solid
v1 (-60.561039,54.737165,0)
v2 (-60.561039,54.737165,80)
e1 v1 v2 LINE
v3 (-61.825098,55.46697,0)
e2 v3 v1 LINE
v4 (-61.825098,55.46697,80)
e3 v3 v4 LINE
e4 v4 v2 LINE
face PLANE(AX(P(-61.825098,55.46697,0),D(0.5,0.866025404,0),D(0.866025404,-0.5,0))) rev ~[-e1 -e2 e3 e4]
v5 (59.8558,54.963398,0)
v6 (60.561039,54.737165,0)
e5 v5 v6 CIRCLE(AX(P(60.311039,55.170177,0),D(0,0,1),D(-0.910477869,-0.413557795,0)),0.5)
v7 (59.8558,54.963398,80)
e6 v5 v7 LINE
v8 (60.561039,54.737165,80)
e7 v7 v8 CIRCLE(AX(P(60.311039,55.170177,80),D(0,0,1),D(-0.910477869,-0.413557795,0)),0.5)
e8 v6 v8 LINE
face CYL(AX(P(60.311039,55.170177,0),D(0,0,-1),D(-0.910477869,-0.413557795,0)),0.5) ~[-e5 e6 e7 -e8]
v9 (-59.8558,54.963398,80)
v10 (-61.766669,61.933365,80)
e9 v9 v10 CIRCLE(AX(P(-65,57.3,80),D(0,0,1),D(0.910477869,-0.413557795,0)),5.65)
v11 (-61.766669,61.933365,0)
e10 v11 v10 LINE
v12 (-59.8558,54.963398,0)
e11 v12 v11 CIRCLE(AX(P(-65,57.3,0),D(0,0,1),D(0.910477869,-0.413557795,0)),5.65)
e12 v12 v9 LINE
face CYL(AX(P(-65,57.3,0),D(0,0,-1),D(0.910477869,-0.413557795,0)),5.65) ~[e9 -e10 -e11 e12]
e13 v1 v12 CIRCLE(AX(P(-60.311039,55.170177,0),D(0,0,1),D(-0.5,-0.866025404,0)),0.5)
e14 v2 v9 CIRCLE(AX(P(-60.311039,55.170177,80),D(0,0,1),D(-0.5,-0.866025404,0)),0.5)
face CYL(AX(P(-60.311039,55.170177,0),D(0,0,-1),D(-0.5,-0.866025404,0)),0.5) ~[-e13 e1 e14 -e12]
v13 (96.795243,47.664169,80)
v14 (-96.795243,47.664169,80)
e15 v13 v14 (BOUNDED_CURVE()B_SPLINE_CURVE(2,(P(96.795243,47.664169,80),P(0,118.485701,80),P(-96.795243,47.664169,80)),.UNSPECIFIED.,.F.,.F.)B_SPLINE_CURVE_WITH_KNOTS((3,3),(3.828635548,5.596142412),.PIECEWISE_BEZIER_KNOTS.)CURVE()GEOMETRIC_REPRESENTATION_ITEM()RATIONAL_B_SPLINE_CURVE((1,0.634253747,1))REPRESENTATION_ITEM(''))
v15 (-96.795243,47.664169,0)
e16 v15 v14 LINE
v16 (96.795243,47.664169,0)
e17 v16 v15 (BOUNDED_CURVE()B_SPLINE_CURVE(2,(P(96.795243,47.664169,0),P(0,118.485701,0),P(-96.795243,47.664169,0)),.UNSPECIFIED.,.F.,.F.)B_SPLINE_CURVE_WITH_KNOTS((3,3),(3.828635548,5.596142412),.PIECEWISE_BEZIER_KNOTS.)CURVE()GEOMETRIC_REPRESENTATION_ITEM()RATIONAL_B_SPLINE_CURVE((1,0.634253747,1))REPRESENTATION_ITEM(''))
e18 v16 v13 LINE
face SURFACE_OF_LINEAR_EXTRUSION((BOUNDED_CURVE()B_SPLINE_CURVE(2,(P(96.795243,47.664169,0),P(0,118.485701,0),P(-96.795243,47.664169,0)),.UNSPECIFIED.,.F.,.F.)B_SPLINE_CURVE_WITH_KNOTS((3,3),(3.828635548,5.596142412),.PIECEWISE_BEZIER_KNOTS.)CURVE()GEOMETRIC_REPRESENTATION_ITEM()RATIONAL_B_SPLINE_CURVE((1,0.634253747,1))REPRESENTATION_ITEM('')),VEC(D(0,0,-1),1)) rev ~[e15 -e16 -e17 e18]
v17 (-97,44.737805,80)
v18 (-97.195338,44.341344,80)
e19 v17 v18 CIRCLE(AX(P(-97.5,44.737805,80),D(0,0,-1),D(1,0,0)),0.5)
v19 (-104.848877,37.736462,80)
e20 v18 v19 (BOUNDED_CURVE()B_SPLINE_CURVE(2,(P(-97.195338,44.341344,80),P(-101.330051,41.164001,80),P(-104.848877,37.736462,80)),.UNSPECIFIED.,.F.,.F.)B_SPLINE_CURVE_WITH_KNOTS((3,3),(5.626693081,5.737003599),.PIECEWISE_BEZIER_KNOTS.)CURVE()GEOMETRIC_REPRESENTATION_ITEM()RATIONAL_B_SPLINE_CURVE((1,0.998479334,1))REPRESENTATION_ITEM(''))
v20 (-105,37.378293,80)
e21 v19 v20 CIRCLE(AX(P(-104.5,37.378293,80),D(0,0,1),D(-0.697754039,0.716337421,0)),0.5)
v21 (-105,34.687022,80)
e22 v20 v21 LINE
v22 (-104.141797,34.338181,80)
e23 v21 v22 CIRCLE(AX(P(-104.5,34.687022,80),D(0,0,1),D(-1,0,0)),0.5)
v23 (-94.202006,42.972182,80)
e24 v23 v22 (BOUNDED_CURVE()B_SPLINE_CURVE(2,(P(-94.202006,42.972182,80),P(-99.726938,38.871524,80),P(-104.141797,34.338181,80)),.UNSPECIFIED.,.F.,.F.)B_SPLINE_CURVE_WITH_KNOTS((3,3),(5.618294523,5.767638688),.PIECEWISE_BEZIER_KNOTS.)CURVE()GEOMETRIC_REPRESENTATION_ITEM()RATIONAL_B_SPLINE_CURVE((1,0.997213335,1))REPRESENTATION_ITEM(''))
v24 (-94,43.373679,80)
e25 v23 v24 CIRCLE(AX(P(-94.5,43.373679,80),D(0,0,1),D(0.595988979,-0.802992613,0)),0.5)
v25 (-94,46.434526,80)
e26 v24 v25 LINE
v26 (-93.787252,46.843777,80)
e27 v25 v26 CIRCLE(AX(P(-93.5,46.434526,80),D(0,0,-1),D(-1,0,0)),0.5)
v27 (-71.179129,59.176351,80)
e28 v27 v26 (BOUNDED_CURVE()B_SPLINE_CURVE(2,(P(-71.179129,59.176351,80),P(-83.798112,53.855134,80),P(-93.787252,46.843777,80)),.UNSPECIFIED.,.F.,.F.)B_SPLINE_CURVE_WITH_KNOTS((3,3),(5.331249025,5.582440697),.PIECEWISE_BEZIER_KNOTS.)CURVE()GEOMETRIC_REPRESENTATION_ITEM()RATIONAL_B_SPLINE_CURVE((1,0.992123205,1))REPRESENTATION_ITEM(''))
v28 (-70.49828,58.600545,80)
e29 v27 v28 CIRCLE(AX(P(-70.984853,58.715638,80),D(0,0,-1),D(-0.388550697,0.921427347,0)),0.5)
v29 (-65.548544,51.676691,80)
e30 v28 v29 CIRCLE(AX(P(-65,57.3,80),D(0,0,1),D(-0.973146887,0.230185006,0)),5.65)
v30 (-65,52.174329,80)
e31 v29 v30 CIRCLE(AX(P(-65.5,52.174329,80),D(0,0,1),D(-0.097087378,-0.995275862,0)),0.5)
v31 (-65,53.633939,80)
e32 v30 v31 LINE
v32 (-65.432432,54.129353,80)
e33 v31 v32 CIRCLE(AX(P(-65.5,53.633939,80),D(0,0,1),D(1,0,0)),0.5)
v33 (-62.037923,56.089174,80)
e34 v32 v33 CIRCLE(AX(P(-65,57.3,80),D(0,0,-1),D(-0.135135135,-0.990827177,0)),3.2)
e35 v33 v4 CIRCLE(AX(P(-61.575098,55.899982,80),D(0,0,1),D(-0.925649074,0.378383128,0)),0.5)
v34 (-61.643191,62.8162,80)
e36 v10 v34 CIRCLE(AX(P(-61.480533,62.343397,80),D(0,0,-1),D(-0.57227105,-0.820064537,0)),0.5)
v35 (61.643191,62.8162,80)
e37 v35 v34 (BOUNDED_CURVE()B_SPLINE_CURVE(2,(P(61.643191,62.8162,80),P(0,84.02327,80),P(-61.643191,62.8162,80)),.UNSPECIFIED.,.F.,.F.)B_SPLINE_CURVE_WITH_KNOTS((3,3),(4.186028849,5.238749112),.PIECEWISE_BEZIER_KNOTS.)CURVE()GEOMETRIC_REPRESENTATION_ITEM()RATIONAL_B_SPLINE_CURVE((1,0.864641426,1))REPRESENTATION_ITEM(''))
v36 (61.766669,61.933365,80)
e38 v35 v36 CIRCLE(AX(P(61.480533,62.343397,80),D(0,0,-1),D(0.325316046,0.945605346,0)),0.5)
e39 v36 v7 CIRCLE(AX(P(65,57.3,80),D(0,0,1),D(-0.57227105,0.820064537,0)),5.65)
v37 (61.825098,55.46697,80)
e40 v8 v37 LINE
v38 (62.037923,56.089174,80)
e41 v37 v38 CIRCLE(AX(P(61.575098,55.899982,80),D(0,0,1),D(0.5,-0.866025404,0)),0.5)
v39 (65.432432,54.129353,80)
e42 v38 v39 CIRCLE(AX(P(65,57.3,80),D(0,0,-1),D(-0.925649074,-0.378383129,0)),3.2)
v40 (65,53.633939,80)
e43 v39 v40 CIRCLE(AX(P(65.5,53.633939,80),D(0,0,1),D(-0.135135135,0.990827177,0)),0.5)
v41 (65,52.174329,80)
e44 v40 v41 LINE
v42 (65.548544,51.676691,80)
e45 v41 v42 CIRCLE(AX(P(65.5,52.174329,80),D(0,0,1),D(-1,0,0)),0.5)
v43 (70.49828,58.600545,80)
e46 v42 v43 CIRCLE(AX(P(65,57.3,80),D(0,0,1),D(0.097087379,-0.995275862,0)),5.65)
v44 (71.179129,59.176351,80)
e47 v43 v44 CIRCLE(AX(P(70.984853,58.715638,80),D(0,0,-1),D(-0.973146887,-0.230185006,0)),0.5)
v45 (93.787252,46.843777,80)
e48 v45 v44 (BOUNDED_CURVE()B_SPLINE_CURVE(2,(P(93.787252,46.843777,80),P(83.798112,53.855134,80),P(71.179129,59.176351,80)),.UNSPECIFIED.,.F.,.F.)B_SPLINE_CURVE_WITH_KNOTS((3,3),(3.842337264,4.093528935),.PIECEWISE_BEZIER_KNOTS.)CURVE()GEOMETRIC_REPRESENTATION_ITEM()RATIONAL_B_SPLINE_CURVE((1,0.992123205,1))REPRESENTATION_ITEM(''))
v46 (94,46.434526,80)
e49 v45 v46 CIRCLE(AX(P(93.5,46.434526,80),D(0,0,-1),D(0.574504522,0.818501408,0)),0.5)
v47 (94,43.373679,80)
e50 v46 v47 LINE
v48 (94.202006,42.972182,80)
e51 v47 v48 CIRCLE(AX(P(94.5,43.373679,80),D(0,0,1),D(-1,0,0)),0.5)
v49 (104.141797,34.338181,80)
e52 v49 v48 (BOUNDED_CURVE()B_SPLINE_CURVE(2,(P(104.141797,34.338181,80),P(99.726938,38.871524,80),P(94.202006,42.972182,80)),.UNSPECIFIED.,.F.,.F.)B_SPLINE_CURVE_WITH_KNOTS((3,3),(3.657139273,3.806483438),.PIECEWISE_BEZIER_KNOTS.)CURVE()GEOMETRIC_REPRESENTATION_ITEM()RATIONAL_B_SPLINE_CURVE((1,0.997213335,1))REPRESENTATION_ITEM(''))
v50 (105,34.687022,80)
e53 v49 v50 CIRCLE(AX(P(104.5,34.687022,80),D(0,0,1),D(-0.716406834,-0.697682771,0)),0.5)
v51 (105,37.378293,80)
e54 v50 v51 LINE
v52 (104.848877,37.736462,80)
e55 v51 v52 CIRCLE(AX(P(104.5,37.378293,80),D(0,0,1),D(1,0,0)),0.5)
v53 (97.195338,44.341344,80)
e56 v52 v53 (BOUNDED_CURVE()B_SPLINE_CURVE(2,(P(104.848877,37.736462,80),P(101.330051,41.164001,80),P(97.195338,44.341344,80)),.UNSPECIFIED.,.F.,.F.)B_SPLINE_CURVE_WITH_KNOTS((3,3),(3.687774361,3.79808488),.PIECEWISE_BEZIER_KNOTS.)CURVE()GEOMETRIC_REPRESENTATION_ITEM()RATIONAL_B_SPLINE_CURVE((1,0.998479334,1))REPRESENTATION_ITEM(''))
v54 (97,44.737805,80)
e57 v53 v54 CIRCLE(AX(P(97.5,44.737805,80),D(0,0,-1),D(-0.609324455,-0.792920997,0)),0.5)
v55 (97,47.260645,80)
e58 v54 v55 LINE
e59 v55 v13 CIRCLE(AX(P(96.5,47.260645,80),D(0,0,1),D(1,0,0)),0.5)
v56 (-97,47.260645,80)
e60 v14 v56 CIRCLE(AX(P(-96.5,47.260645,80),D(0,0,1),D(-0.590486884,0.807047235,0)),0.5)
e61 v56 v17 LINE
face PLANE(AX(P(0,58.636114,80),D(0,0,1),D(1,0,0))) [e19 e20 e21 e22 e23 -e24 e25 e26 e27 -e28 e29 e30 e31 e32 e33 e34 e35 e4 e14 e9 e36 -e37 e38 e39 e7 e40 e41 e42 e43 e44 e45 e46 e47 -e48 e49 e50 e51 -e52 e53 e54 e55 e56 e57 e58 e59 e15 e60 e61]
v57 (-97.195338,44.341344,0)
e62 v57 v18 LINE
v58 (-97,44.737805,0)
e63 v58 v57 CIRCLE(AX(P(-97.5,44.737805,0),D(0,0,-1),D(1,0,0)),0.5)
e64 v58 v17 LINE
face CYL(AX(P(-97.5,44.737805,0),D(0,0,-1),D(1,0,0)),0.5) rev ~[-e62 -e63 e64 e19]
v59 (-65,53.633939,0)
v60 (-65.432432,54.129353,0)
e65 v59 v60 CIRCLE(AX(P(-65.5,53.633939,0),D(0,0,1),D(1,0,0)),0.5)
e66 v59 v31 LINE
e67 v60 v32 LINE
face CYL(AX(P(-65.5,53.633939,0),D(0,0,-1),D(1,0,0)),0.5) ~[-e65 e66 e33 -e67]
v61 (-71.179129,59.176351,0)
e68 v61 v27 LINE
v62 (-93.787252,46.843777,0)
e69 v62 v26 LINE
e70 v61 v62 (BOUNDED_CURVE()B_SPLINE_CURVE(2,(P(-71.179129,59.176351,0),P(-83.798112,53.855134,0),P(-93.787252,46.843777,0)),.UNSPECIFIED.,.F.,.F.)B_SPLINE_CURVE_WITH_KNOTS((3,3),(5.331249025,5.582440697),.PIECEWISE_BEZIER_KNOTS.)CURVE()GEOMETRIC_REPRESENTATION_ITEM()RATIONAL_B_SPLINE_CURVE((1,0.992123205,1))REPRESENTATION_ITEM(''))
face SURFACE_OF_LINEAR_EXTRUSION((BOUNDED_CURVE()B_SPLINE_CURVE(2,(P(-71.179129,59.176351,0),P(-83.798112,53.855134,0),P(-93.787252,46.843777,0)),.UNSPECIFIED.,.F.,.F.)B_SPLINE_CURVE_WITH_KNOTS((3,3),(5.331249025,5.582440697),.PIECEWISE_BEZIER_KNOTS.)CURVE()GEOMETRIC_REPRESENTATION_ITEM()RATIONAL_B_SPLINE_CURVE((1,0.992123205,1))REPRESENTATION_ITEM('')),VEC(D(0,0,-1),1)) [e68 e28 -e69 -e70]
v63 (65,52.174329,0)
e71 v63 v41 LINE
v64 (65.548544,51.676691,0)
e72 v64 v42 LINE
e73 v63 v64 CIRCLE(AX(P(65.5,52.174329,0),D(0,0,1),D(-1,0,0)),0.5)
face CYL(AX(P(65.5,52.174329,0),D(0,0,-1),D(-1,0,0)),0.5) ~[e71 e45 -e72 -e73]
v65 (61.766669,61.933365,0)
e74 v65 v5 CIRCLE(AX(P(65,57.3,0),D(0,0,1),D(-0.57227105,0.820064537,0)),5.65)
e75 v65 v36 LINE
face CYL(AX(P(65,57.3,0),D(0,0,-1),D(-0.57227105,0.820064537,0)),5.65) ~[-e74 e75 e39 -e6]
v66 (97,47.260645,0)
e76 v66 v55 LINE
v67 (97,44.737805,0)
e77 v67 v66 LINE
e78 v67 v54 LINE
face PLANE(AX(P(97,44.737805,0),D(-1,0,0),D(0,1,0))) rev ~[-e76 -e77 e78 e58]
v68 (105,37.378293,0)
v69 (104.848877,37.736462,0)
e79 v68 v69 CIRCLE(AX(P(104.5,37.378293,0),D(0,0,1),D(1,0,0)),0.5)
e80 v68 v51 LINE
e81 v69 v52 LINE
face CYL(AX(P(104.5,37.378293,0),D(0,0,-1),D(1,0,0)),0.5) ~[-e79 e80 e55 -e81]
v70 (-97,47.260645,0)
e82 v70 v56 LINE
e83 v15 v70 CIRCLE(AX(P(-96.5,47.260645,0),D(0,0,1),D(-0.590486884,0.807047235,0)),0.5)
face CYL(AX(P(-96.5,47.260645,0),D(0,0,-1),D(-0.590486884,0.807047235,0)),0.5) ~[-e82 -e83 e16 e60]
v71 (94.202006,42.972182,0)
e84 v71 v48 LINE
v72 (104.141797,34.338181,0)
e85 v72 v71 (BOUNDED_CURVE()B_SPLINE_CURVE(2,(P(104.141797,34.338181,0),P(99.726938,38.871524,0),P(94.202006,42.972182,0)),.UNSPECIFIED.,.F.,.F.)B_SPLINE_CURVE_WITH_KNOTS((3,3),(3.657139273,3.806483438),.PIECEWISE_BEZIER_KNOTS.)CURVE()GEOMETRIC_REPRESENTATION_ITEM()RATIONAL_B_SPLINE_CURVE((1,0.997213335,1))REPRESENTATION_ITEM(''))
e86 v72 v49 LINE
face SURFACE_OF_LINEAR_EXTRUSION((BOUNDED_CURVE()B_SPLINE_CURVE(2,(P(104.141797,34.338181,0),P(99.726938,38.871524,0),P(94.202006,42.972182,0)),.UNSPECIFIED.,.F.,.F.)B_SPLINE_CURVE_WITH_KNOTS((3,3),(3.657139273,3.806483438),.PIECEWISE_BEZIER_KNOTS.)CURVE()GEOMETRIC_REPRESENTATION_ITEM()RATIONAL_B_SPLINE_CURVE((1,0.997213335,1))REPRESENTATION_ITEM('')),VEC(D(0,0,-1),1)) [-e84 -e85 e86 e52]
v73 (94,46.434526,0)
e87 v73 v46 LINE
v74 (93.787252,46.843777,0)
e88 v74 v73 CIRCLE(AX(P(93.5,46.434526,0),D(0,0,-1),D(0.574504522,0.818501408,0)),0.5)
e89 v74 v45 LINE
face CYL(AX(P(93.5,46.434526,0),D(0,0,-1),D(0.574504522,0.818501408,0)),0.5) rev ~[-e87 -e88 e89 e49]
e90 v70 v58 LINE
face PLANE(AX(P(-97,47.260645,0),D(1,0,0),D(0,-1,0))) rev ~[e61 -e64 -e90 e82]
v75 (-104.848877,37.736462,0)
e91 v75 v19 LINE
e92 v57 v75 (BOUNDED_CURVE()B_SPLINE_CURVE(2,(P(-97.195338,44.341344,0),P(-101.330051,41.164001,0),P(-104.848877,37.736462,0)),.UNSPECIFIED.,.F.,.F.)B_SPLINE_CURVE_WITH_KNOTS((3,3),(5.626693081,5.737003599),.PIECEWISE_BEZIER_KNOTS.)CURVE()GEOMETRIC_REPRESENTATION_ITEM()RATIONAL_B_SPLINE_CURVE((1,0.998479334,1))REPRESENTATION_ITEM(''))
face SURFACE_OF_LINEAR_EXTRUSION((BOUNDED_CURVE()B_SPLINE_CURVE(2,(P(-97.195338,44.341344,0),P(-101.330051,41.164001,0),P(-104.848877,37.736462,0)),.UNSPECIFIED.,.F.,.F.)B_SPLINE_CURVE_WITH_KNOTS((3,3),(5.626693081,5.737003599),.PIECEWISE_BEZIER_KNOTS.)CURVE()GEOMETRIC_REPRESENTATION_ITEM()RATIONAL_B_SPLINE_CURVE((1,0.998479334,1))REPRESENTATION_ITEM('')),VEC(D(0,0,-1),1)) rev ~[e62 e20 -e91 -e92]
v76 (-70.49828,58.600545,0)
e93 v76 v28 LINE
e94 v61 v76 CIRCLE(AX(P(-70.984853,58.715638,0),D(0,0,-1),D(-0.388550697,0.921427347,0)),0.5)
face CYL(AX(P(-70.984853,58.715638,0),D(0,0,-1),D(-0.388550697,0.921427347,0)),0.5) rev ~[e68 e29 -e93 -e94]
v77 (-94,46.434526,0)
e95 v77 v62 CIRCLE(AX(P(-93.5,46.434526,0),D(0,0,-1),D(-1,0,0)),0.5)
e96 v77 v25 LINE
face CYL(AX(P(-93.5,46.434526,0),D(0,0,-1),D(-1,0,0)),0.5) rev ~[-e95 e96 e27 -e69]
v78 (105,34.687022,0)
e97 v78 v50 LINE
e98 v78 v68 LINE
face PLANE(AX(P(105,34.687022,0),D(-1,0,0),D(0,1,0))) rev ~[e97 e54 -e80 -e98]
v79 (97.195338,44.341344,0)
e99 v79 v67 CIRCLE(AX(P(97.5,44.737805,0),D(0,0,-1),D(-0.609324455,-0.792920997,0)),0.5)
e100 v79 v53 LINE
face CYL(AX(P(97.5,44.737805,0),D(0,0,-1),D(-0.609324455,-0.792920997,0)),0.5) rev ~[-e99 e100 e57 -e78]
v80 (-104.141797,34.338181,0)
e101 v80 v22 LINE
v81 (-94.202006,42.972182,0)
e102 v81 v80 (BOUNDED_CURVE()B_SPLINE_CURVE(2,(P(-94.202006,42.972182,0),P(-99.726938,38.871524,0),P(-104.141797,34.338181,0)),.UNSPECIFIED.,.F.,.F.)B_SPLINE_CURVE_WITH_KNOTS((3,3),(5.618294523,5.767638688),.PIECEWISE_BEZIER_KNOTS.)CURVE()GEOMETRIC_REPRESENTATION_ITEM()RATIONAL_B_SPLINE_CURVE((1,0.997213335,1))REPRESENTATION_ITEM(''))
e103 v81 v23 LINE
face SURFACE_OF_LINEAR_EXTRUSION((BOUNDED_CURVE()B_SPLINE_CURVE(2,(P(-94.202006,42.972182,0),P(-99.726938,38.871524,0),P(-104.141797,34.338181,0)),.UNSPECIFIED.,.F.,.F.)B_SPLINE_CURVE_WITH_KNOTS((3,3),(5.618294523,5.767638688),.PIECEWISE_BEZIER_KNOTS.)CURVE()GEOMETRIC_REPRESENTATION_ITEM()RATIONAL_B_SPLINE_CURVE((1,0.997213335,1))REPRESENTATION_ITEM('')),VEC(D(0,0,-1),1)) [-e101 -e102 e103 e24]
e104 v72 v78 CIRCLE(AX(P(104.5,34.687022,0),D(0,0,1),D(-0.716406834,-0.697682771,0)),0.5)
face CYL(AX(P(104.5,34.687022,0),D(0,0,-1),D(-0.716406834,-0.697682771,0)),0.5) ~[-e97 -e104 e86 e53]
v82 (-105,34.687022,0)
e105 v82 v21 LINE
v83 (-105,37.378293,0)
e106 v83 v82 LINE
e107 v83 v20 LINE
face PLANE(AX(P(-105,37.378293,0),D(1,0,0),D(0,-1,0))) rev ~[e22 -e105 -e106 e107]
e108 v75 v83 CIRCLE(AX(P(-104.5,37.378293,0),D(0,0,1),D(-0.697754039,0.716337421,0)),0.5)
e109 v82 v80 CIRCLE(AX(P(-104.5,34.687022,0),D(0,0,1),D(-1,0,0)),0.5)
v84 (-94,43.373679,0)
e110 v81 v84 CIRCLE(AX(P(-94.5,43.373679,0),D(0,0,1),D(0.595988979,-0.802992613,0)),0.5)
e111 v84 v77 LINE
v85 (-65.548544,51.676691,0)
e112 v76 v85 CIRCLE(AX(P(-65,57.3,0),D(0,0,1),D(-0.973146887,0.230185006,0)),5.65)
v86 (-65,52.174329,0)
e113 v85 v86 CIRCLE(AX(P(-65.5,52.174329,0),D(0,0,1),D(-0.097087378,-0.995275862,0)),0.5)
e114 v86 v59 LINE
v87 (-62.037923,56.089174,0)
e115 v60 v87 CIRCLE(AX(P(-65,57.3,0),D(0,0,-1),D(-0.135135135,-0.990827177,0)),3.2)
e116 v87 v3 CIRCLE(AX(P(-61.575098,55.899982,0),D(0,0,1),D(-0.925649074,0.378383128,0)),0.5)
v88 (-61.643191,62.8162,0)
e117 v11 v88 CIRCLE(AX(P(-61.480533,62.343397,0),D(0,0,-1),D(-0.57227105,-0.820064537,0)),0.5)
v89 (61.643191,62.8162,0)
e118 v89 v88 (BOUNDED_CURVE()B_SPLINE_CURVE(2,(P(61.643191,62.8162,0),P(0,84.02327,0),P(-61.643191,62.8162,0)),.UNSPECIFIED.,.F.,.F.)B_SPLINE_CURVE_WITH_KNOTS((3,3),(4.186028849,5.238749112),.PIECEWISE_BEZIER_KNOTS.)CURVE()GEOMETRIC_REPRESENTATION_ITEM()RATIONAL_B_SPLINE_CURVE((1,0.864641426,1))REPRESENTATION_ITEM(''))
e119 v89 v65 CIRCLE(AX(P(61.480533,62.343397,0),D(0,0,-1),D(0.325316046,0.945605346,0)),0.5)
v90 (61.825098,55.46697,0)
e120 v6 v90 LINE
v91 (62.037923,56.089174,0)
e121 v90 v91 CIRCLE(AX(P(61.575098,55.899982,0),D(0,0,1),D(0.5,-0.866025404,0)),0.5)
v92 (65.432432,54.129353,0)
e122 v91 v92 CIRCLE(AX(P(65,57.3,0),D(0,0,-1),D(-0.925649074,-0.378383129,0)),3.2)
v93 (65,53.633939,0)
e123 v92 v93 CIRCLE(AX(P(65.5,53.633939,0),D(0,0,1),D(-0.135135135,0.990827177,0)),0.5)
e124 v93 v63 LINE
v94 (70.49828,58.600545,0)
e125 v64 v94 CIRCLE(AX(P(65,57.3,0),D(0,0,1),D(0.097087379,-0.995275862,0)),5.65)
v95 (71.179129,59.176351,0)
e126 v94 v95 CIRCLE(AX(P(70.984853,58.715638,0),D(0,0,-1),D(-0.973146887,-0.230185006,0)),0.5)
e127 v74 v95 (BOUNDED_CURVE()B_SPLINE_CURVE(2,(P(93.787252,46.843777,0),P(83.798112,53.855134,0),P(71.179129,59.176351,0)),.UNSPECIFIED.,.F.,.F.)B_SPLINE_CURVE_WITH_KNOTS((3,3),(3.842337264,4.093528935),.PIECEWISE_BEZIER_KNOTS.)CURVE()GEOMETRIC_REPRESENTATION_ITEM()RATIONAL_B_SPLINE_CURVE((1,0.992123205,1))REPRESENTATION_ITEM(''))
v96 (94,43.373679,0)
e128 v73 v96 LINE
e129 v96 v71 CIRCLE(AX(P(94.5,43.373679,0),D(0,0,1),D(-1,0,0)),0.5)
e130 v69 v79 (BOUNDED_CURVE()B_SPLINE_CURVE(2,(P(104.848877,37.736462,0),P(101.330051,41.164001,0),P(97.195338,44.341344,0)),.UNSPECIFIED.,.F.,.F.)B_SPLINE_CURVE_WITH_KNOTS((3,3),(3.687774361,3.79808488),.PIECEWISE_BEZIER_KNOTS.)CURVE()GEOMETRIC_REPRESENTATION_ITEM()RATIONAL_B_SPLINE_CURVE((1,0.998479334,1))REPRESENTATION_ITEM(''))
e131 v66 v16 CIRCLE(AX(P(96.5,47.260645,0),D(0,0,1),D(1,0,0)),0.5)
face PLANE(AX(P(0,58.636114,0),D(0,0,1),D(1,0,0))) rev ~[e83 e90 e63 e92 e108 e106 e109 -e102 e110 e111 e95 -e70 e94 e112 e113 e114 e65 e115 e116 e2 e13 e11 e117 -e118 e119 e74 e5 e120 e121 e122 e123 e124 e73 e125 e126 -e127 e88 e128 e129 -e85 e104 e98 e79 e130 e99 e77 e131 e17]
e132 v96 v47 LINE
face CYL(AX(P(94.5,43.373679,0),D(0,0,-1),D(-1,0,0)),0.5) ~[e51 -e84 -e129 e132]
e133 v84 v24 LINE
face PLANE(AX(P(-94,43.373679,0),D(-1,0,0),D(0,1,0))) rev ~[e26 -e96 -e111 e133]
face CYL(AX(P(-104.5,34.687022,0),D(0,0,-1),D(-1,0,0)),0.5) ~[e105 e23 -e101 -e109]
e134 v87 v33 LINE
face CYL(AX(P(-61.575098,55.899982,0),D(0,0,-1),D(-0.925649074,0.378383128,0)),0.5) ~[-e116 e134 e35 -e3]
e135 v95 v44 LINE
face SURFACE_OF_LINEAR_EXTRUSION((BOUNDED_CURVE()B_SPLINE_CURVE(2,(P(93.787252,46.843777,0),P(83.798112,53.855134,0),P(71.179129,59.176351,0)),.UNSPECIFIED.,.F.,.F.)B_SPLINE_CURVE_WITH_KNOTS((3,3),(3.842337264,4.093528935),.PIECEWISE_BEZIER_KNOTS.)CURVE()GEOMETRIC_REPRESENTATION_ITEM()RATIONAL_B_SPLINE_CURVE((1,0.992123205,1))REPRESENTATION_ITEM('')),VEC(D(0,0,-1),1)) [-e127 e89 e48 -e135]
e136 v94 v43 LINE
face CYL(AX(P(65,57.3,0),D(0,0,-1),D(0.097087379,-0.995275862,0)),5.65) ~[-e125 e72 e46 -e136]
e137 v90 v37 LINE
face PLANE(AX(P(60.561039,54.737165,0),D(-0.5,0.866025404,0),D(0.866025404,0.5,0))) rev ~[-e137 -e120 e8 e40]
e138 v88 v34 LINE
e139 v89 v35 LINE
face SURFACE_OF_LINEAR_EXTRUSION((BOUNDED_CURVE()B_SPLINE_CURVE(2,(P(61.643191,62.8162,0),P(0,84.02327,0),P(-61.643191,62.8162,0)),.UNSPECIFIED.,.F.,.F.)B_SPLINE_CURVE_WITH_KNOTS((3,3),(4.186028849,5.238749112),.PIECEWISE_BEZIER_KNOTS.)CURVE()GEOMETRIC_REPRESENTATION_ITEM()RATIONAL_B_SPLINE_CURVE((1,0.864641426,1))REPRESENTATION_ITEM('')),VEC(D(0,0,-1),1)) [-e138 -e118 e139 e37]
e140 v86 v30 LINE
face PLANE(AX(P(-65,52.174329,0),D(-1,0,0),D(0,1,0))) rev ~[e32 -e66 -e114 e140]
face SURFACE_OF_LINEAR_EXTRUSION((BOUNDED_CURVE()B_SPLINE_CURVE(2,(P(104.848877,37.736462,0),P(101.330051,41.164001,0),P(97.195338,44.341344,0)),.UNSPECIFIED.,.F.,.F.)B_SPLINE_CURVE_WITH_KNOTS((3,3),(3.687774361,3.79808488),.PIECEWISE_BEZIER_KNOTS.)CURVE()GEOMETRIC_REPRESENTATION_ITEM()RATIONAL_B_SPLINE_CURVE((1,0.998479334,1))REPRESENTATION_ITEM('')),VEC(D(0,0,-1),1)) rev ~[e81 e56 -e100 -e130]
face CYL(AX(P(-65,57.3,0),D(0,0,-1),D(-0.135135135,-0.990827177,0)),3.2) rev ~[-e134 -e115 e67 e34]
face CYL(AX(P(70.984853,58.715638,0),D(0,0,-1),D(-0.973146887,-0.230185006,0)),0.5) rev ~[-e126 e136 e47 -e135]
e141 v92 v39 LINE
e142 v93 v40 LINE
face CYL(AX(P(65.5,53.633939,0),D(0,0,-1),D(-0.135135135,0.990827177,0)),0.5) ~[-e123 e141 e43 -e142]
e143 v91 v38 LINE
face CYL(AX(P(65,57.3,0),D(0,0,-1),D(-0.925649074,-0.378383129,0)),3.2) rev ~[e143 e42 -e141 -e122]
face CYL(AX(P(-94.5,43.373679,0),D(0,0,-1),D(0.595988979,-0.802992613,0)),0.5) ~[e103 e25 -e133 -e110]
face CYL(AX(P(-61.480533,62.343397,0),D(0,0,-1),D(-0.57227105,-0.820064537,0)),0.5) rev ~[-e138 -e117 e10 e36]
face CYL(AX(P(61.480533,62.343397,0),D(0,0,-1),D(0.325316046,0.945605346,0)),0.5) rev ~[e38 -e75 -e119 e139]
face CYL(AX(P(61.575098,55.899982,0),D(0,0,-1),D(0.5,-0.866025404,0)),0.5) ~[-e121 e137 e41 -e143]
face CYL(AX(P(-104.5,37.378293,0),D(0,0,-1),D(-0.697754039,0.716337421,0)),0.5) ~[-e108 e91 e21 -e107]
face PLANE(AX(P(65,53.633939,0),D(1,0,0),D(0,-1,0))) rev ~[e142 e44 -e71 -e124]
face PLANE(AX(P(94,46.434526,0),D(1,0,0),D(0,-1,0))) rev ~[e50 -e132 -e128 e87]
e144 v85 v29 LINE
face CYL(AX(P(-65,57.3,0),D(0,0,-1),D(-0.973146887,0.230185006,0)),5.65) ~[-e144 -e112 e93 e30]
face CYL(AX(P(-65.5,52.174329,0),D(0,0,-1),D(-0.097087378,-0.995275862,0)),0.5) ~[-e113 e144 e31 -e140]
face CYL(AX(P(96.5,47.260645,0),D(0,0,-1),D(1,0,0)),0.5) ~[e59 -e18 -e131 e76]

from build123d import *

# Parameters (mm, degrees)
F1_DEPTH = 80


with BuildPart() as f1:
    # F0 (on Top) → F1 (new body)
    with BuildSketch(Plane.XY):
        with BuildLine():
            ThreePointArc((-65.4324324324, 54.1293530327), (-66.6, 60.0712812921), (-62.0379229637, 56.0891739882))
            ThreePointArc((-62.0379229637, 56.0891739882), (-62.0481885263, 55.7381622841), (-61.8250984267, 55.466969722))
            Line((-61.8250984267, 55.466969722), (-60.5610389729, 54.7371646561))
            ThreePointArc((-60.5610389729, 54.7371646561), (-60.158309838, 54.6940746261), (-59.8558000382, 54.9633984607))
            ThreePointArc((-59.8558000382, 54.9633984607), (-59.5510675189, 58.7938657291), (-61.7666685688, 61.9333646366))
            ThreePointArc((-61.7666685688, 61.9333646366), (-61.9757131078, 62.4126551487), (-61.643191067, 62.8161995782))
            add(Edge.make_bspline(
                [(61.643191067, 62.8161995782), (0, 84.0232700392), (-61.643191067, 62.8161995782)],
                knots=[4.1860288487, 4.1860288487, 4.1860288487, 5.2387491121, 5.2387491121, 5.2387491121], degree=2, weights=[1, 0.8646414257, 1]))
            ThreePointArc((61.643191067, 62.8161995782), (61.9757131078, 62.4126551487), (61.7666685688, 61.9333646366))
            ThreePointArc((61.7666685688, 61.9333646366), (59.5510675189, 58.7938657291), (59.8558000382, 54.9633984607))
            ThreePointArc((59.8558000382, 54.9633984607), (60.158309838, 54.6940746261), (60.5610389729, 54.7371646561))
            Line((60.5610389729, 54.7371646561), (61.8250984267, 55.466969722))
            ThreePointArc((61.8250984267, 55.466969722), (62.0481885263, 55.7381622841), (62.0379229637, 56.0891739882))
            ThreePointArc((62.0379229637, 56.0891739882), (66.6, 60.0712812921), (65.4324324324, 54.1293530327))
            ThreePointArc((65.4324324324, 54.1293530327), (65.1233145982, 53.9627374186), (65, 53.633939444))
            Line((65, 53.633939444), (65, 52.1743293122))
            ThreePointArc((65, 52.1743293122), (65.1640475068, 51.8040106355), (65.5485436893, 51.6766913813))
            ThreePointArc((65.5485436893, 51.6766913813), (69.5962981984, 54.0141906825), (70.4982799093, 58.6005452853))
            ThreePointArc((70.4982799093, 58.6005452853), (70.6619791784, 59.0974129416), (71.1791287009, 59.176351462))
            add(Edge.make_bspline(
                [(93.7872522609, 46.84377686), (83.7981123491, 53.8551344377), (71.1791287009, 59.176351462)],
                knots=[3.842337264, 3.842337264, 3.842337264, 4.0935289354, 4.0935289354, 4.0935289354], degree=2, weights=[1, 0.9921232054, 1]))
            ThreePointArc((93.7872522609, 46.84377686), (93.9436361856, 46.6651490839), (94, 46.4345261562))
            Line((94, 46.4345261562), (94, 43.3736786648))
            ThreePointArc((94, 43.3736786648), (94.0533473134, 43.1489535493), (94.2020055102, 42.9721823585))
            add(Edge.make_bspline(
                [(104.1417965831, 34.3381809195), (99.7269376988, 38.8715235905), (94.2020055102, 42.9721823585)],
                knots=[3.6571392728, 3.6571392728, 3.6571392728, 3.8064834378, 3.8064834378, 3.8064834378], degree=2, weights=[1, 0.9972133353, 1]))
            ThreePointArc((104.1417965831, 34.3381809195), (104.6882794353, 34.2238259596), (105, 34.6870223048))
            Line((105, 34.6870223048), (105, 37.3782928471))
            ThreePointArc((105, 37.3782928471), (104.9606726114, 37.5726655435), (104.8488770195, 37.7364615577))
            add(Edge.make_bspline(
                [(104.8488770195, 37.7364615577), (101.3300513539, 41.1640010776), (97.1953377723, 44.3413442293)],
                knots=[3.6877743614, 3.6877743614, 3.6877743614, 3.7980848797, 3.7980848797, 3.7980848797], degree=2, weights=[1, 0.9984793343, 1]))
            ThreePointArc((97.1953377723, 44.3413442293), (97.0514851653, 44.5168195632), (97, 44.737804728))
            Line((97, 44.737804728), (97, 47.2606454567))
            ThreePointArc((97, 47.2606454567), (96.9458821151, 47.4868956267), (96.7952434423, 47.664169074))
            add(Edge.make_bspline(
                [(96.7952434423, 47.664169074), (0, 118.485701308), (-96.7952434423, 47.664169074)],
                knots=[3.8286355484, 3.8286355484, 3.8286355484, 5.5961424124, 5.5961424124, 5.5961424124], degree=2, weights=[1, 0.6342537468, 1]))
            ThreePointArc((-96.7952434423, 47.664169074), (-96.9458821151, 47.4868956267), (-97, 47.2606454567))
            Line((-97, 47.2606454567), (-97, 44.737804728))
            ThreePointArc((-97, 44.737804728), (-97.0514851653, 44.5168195632), (-97.1953377723, 44.3413442293))
            add(Edge.make_bspline(
                [(-97.1953377723, 44.3413442293), (-101.3300513539, 41.1640010776), (-104.8488770195, 37.7364615577)],
                knots=[5.6266930811, 5.6266930811, 5.6266930811, 5.7370035993, 5.7370035993, 5.7370035993], degree=2, weights=[1, 0.9984793343, 1]))
            ThreePointArc((-104.8488770195, 37.7364615577), (-104.9606726114, 37.5726655435), (-105, 37.3782928471))
            Line((-105, 37.3782928471), (-105, 34.6870223048))
            ThreePointArc((-105, 34.6870223048), (-104.6882794353, 34.2238259596), (-104.1417965831, 34.3381809195))
            add(Edge.make_bspline(
                [(-94.2020055102, 42.9721823585), (-99.7269376988, 38.8715235905), (-104.1417965831, 34.3381809195)],
                knots=[5.6182945229, 5.6182945229, 5.6182945229, 5.7676386879, 5.7676386879, 5.7676386879], degree=2, weights=[1, 0.9972133353, 1]))
            ThreePointArc((-94.2020055102, 42.9721823585), (-94.0533473134, 43.1489535493), (-94, 43.3736786648))
            Line((-94, 43.3736786648), (-94, 46.4345261562))
            ThreePointArc((-94, 46.4345261562), (-93.9436361856, 46.6651490839), (-93.7872522609, 46.84377686))
            add(Edge.make_bspline(
                [(-71.1791287009, 59.176351462), (-83.7981123491, 53.8551344377), (-93.7872522609, 46.84377686)],
                knots=[5.3312490254, 5.3312490254, 5.3312490254, 5.5824406968, 5.5824406968, 5.5824406968], degree=2, weights=[1, 0.9921232054, 1]))
            ThreePointArc((-71.1791287009, 59.176351462), (-70.6619791784, 59.0974129416), (-70.4982799093, 58.6005452853))
            ThreePointArc((-70.4982799093, 58.6005452853), (-69.5962981984, 54.0141906825), (-65.5485436893, 51.6766913813))
            ThreePointArc((-65.5485436893, 51.6766913813), (-65.1640475068, 51.8040106355), (-65, 52.1743293122))
            Line((-65, 52.1743293122), (-65, 53.633939444))
            ThreePointArc((-65, 53.633939444), (-65.1233145982, 53.9627374186), (-65.4324324324, 54.1293530327))
        make_face()
    extrude(amount=F1_DEPTH)


solid = f1.part
